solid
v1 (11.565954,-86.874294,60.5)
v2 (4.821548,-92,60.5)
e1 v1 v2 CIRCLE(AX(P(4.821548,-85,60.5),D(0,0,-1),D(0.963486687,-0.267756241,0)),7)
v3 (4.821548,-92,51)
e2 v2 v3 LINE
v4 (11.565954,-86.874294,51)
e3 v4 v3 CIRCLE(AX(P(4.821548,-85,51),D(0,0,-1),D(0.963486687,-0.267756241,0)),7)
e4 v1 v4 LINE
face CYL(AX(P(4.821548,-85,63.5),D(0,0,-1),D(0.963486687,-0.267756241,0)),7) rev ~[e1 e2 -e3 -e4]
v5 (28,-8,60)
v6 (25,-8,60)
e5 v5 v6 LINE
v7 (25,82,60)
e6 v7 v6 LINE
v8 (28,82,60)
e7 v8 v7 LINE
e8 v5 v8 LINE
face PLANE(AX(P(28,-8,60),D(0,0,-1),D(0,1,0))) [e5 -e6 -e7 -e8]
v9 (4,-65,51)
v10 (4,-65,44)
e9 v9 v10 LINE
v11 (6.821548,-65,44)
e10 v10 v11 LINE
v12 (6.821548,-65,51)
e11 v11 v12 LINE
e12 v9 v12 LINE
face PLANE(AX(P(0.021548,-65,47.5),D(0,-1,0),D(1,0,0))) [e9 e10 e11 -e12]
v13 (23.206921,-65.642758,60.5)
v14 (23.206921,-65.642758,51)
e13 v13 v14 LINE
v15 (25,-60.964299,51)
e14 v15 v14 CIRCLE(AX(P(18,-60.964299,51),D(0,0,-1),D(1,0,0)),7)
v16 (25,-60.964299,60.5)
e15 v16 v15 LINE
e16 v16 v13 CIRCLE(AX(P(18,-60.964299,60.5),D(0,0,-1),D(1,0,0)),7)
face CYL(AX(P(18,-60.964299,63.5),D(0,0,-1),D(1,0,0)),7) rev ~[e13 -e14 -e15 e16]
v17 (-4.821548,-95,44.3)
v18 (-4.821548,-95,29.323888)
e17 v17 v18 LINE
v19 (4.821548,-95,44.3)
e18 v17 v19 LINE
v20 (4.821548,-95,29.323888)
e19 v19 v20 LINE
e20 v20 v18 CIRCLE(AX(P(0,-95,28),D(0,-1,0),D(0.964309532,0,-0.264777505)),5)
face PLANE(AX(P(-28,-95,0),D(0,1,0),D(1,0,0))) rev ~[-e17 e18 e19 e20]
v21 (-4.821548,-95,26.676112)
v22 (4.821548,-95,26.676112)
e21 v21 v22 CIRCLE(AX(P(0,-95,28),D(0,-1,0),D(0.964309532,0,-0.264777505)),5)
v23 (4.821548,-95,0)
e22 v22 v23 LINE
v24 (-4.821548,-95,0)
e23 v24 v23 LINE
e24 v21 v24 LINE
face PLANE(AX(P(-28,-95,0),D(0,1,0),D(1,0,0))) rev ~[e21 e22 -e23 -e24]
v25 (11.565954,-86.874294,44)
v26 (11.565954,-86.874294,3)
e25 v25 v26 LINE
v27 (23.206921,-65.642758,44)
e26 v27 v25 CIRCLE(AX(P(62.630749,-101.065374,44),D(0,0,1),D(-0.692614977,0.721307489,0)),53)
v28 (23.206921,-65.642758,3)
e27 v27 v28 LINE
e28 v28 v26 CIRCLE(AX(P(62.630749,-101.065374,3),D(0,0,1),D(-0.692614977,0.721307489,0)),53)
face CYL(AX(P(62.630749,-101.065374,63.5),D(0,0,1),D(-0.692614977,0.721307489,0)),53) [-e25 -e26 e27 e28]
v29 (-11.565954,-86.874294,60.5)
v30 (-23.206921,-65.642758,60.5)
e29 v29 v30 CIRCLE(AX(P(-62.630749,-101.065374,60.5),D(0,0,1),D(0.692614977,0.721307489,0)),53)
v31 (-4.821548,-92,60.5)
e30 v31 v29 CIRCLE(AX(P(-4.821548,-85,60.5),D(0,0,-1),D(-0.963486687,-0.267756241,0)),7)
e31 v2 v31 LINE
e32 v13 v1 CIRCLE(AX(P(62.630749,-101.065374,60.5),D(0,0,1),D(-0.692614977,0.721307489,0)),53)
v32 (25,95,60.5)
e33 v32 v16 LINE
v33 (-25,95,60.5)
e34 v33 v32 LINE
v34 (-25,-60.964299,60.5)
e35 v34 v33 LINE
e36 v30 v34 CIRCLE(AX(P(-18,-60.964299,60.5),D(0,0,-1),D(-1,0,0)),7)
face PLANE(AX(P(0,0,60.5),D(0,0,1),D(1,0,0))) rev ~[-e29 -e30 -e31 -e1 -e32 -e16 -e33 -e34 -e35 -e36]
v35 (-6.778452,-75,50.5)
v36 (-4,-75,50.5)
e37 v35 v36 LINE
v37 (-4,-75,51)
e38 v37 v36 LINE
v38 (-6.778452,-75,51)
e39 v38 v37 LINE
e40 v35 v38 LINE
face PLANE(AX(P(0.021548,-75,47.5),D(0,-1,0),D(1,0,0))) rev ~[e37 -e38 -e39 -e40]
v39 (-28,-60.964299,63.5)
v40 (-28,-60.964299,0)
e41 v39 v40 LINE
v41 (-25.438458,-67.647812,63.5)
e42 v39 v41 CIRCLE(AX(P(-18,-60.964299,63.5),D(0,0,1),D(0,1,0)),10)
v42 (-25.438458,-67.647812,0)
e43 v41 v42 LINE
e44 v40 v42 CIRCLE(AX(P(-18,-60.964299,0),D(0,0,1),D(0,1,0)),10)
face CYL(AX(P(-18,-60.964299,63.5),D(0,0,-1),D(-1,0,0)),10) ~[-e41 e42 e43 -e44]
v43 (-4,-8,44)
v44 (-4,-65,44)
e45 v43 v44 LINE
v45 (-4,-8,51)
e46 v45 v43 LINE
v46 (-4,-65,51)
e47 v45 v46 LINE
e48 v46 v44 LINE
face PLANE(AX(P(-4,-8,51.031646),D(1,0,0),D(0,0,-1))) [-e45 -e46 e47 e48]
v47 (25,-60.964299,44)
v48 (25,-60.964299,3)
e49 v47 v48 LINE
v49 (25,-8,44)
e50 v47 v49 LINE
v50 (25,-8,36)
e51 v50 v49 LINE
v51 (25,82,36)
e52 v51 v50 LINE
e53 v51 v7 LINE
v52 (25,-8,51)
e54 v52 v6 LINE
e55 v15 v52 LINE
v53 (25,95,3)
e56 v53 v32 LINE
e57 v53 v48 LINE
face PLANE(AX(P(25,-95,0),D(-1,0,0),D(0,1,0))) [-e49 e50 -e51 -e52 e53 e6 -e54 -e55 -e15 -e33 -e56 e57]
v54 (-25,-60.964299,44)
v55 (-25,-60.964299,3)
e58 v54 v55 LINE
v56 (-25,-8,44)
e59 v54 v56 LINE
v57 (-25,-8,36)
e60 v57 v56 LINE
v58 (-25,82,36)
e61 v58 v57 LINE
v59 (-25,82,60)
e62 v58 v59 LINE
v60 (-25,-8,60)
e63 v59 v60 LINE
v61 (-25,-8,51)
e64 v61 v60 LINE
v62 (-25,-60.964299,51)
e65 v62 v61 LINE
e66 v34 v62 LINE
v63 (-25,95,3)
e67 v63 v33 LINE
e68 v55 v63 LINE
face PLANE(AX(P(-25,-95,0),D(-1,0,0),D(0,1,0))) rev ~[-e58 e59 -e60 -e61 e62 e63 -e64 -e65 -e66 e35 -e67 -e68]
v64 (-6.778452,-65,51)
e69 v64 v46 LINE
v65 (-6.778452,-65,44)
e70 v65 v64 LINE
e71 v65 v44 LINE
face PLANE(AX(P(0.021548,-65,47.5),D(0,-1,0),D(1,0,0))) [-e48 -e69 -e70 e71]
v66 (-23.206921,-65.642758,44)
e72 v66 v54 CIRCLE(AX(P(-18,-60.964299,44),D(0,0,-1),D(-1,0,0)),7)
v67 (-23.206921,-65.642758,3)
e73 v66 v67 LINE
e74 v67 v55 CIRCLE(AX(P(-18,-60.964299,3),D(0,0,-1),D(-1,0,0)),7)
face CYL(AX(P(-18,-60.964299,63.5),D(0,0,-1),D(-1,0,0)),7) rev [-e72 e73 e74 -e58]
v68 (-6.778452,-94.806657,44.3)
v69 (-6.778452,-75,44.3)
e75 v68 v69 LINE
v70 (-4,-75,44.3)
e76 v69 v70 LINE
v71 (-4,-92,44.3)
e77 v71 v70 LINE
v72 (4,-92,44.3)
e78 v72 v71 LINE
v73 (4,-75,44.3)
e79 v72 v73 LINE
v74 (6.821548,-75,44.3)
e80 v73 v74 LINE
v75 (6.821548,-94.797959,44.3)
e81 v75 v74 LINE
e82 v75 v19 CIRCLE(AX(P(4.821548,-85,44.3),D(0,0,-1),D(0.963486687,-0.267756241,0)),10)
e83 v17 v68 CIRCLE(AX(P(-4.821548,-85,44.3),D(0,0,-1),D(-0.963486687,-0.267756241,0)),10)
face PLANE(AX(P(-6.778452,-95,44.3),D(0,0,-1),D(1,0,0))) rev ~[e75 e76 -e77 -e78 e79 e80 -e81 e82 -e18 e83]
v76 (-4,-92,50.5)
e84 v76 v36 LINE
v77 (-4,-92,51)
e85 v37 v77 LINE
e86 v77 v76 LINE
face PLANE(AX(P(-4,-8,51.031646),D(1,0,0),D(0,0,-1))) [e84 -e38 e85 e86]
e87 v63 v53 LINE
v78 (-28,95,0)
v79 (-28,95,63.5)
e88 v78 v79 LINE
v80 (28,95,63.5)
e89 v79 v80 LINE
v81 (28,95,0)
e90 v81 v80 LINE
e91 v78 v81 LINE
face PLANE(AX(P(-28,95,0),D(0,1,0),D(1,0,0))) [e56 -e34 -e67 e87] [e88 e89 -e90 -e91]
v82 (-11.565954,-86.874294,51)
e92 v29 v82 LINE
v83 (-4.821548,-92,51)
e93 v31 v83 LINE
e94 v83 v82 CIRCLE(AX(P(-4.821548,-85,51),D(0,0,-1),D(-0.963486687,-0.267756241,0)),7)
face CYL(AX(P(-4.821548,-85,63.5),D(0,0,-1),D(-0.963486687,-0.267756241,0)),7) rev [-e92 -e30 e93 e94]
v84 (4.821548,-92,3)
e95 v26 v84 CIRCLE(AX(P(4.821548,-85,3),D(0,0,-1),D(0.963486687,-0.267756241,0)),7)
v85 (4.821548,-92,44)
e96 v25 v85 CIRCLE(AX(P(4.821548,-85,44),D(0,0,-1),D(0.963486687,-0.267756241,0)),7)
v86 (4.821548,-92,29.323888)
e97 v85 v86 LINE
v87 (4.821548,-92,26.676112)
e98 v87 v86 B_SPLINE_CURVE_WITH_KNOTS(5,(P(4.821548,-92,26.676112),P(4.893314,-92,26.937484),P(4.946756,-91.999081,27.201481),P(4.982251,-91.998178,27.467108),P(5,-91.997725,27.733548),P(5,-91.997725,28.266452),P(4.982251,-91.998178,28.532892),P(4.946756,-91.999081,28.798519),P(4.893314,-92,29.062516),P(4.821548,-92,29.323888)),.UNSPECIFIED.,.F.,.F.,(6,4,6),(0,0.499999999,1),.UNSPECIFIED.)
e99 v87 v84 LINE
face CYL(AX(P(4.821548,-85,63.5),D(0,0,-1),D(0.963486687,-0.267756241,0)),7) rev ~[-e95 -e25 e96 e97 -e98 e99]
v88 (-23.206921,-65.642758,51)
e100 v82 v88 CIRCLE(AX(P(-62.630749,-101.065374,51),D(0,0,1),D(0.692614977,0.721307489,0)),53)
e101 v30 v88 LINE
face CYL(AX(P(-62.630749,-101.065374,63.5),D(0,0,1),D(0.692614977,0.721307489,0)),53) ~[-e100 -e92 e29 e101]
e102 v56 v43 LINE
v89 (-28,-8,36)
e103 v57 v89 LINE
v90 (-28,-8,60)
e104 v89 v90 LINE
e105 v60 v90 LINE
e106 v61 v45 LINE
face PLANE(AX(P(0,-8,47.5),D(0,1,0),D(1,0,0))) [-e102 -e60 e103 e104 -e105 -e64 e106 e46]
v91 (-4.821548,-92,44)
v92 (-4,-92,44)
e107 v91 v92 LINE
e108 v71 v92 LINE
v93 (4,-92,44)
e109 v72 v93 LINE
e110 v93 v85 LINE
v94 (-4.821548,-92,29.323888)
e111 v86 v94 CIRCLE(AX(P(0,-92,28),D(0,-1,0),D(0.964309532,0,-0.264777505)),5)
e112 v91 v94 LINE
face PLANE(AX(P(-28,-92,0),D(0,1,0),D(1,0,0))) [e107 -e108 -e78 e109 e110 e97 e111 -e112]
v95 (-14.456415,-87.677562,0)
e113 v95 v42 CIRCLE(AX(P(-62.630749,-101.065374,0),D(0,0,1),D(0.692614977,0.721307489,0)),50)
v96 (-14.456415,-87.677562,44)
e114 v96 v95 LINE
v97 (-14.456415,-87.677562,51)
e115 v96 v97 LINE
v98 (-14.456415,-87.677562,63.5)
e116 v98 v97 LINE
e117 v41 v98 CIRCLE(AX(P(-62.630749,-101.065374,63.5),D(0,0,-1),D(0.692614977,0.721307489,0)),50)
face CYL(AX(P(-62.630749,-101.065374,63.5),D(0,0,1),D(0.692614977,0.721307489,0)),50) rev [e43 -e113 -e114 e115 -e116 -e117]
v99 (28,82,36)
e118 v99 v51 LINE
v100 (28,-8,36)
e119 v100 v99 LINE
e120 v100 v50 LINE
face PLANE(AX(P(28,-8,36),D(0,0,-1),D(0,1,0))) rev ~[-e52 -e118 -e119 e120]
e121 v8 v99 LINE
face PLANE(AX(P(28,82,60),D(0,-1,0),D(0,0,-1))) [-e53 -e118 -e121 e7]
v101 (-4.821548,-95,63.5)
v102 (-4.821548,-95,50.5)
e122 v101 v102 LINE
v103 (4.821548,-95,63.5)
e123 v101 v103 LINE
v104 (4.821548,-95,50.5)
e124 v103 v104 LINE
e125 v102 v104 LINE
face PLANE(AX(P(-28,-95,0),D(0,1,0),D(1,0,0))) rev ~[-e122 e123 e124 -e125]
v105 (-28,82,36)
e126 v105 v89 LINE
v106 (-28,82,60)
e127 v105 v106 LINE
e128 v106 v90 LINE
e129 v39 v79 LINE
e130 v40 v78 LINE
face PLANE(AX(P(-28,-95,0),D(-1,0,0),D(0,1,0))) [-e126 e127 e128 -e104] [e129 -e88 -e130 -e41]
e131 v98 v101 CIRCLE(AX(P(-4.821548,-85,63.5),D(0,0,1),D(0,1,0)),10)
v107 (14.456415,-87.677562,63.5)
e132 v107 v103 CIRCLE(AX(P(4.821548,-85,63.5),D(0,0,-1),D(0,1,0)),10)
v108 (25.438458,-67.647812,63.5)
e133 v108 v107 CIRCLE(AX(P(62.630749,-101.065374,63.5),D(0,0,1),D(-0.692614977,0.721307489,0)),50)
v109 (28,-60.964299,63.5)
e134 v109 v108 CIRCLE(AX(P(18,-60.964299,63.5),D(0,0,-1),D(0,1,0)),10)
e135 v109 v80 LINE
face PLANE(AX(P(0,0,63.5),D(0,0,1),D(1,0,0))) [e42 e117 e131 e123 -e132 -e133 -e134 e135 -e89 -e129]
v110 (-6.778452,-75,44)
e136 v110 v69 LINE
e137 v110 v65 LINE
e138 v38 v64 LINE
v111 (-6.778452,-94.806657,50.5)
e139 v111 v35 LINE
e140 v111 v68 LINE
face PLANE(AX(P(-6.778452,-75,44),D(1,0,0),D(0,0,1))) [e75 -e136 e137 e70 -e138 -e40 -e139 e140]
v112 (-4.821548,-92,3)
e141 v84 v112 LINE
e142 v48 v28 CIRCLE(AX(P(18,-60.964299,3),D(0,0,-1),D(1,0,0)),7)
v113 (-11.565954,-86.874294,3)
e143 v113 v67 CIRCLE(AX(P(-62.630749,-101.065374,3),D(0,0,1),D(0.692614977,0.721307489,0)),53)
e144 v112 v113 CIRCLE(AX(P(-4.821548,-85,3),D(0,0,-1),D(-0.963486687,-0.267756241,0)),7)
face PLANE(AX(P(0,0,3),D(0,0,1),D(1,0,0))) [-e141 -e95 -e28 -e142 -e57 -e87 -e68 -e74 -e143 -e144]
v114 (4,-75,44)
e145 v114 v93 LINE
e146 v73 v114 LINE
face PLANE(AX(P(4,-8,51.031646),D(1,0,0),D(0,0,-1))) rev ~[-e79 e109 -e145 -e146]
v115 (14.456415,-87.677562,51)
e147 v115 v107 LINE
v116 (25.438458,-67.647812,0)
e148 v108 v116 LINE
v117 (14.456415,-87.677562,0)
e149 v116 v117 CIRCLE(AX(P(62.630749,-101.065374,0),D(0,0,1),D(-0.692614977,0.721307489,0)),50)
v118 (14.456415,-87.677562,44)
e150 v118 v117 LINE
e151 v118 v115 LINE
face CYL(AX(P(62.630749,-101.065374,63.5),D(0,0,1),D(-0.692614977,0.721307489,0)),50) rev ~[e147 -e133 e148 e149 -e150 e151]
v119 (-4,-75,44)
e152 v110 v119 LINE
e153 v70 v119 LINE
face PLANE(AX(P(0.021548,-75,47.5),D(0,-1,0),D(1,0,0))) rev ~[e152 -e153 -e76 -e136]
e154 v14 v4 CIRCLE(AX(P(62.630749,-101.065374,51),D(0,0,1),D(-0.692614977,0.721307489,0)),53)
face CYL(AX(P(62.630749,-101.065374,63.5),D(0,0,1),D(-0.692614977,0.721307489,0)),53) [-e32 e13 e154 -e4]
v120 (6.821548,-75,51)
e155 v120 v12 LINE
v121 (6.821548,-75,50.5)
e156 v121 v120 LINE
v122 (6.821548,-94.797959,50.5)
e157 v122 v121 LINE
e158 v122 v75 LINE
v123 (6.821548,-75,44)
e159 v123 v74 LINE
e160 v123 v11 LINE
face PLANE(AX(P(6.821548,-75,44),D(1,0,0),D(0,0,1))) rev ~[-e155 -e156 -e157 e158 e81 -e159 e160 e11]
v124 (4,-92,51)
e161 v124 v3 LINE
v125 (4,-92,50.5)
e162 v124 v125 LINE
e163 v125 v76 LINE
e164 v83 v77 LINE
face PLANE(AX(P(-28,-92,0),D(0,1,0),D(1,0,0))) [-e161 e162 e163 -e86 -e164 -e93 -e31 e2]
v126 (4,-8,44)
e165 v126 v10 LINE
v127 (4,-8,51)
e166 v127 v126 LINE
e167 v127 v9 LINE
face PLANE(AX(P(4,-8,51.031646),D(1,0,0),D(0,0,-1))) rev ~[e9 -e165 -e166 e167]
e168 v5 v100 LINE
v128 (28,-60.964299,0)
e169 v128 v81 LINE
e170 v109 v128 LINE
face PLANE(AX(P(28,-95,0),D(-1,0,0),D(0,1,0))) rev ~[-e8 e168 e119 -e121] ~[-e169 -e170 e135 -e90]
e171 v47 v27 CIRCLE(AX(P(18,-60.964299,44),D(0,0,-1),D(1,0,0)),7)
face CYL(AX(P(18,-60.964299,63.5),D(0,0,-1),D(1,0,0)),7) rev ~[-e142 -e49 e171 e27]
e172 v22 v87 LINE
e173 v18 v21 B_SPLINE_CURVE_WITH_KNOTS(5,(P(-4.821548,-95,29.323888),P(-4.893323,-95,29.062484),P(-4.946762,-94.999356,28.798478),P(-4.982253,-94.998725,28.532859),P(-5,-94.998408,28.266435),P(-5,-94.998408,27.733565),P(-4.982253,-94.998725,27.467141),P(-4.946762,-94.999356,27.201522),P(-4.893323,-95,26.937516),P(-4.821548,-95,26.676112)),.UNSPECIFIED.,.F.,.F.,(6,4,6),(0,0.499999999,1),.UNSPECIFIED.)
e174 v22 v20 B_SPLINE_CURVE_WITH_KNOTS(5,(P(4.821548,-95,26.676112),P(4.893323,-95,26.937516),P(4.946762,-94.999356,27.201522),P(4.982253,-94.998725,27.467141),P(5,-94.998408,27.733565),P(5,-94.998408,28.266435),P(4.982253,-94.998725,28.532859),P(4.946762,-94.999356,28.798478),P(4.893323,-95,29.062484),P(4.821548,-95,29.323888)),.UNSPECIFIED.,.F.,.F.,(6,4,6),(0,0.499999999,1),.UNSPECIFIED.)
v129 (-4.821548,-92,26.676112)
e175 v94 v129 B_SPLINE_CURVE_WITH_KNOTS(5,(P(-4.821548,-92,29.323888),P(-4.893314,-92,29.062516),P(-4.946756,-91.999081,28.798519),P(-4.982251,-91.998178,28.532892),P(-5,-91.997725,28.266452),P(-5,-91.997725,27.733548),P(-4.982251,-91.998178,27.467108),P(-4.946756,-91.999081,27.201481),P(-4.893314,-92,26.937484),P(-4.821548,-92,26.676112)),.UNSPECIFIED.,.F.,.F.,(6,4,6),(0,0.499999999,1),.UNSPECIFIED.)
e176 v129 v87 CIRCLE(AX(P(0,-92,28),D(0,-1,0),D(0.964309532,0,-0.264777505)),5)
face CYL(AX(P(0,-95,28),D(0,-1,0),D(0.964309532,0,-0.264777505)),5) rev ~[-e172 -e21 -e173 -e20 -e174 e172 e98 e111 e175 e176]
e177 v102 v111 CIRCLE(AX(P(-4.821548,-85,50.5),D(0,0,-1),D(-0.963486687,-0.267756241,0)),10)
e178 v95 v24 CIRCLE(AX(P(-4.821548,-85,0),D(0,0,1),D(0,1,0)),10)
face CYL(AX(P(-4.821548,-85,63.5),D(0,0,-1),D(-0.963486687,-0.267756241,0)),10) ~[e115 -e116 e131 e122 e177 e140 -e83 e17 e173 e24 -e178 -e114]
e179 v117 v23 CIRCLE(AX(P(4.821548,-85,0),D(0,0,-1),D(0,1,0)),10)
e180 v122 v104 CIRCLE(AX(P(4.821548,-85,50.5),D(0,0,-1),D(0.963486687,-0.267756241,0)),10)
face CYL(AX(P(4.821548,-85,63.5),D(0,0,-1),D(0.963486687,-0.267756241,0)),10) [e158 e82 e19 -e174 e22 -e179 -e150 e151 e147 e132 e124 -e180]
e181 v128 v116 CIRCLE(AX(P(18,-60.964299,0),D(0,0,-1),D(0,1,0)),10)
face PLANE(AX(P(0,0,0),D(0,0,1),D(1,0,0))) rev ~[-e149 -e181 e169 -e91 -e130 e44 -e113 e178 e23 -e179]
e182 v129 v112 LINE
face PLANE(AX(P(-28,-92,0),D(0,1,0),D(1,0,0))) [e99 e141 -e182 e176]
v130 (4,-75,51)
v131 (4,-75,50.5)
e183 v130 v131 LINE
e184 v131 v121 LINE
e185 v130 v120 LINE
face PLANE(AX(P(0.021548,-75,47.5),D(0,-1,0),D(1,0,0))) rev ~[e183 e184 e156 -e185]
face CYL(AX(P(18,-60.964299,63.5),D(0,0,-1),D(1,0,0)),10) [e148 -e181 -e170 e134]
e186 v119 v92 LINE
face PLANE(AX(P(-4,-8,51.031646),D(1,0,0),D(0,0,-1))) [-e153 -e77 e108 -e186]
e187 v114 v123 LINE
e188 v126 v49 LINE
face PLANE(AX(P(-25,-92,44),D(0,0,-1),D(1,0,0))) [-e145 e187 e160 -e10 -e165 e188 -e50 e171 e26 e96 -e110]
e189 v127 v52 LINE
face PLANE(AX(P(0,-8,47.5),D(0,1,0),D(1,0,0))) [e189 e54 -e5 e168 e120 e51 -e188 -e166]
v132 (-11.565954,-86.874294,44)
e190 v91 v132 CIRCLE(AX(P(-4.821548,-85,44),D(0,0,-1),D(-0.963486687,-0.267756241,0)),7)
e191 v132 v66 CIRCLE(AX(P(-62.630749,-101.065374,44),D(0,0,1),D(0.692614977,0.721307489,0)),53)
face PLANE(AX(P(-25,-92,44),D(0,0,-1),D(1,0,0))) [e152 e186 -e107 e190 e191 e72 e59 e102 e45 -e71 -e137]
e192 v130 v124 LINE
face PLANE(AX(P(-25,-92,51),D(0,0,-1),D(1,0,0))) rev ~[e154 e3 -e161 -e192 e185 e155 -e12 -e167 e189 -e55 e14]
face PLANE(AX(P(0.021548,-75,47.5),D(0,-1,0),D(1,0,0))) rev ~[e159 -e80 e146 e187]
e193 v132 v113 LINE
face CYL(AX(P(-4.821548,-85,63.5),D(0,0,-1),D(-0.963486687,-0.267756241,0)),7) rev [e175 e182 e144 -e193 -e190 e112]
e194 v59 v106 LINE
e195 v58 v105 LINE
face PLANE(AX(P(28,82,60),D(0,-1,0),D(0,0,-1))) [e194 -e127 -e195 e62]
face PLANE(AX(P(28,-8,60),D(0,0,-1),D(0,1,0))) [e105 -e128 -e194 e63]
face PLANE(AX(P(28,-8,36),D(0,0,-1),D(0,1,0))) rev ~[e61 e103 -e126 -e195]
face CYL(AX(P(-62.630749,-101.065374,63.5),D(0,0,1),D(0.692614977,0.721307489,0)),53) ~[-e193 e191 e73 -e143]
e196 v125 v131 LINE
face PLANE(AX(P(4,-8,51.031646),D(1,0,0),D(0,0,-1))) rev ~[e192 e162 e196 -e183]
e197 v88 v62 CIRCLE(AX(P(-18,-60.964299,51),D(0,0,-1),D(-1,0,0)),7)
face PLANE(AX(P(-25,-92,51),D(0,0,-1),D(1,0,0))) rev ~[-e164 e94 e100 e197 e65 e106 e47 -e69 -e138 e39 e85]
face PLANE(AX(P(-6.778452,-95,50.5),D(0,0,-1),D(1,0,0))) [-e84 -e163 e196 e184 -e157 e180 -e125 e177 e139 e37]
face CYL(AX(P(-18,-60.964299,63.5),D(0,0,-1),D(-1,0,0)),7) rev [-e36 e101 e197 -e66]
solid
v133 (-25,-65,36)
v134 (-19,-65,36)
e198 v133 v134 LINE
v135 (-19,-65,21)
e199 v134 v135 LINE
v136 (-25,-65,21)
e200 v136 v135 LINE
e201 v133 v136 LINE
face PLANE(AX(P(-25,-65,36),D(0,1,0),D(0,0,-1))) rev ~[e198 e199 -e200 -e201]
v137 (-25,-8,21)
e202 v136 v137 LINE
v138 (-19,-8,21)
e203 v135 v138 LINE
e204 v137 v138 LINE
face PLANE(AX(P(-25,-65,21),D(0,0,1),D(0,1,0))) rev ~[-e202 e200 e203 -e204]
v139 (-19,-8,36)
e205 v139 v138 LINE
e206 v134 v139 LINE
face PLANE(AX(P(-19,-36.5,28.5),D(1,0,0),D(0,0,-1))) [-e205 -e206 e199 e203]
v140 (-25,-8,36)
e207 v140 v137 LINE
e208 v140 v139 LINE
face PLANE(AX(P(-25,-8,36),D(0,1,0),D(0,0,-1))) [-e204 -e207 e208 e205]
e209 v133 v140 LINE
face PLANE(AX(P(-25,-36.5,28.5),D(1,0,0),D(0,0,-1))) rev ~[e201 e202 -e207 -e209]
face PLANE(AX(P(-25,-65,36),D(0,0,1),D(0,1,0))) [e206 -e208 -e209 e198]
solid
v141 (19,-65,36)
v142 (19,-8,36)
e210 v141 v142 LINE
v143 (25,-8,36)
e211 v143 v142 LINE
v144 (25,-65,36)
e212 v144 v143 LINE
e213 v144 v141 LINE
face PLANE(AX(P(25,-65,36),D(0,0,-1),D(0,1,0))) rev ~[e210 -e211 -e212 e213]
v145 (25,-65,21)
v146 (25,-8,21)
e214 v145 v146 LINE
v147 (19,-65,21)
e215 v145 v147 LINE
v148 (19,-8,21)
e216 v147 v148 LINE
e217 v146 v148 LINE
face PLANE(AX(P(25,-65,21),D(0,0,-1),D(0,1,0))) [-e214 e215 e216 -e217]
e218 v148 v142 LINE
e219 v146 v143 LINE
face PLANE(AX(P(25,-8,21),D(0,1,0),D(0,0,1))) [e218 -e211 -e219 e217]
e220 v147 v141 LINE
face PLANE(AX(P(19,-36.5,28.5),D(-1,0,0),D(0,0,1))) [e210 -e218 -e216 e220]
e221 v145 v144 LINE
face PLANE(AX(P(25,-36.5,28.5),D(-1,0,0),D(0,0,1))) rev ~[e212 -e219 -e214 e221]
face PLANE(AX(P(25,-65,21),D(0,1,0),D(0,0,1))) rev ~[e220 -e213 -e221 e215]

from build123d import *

# Parameters (mm, degrees)
CROQUIS2_W              = 56
CROQUIS2_H              = 190
SALIENTE_EXTRUIR1_DEPTH = 63.5
CORTAR_EXTRUIR6_DEPTH   = 65
REDONDEO1_R             = 10
VACIADO2_T              = -3
CROQUIS10_W             = 24
CROQUIS10_H             = 90
CORTAR_EXTRUIR1_DEPTH   = 129
CROQUIS12_W             = 50
CROQUIS12_H             = 7
SALIENTE_EXTRUIR2_DEPTH = 84
CROQUIS13_W             = 8
CROQUIS13_H             = 7.031646252
CORTAR_EXTRUIR2_DEPTH   = 84
CROQUIS14_R             = 5
CORTAR_EXTRUIR3_DEPTH   = 84
CORTAR_EXTRUIR5_DEPTH   = 10
CROQUIS18_W             = 15
CROQUIS18_H             = 57
SALIENTE_EXTRUIR4_DEPTH = 6
CROQUIS19_W             = 15
CROQUIS19_H             = 57
SALIENTE_EXTRUIR5_DEPTH = 6
CROQUIS22_R             = 5
CROQUIS22_W             = 13.6
CROQUIS22_H             = 6.2
CORTAR_EXTRUIR7_DEPTH   = 20
CROQUIS23_W             = 13.6
CROQUIS23_H             = 7
CORTAR_EXTRUIR8_DEPTH   = 10


with BuildPart() as part:
    # Croquis2 → Saliente-Extruir1 (new body)
    with BuildSketch(Plane.XY):
        Rectangle(CROQUIS2_W, CROQUIS2_H)
    extrude(amount=SALIENTE_EXTRUIR1_DEPTH)

    # Croquis20 → Cortar-Extruir6 (cut)
    with BuildSketch(Plane.XY.offset(63.5)):
        with BuildLine():
            Line((-13, -95), (-28, -95))
            Line((-28, -95), (-28, -65))
            ThreePointArc((-28, -65), (-17.909389316, -78.704694658), (-13, -95))
        make_face()
        with BuildLine():
            Line((13, -95), (28, -95))
            Line((28, -95), (28, -65))
            ThreePointArc((28, -65), (17.909389316, -78.704694658), (13, -95))
        make_face()
    extrude(amount=-CORTAR_EXTRUIR6_DEPTH, mode=Mode.SUBTRACT)

    # Redondeo1
    redondeo1_edges = [part.edges().sort_by_distance(p)[0] for p in [
        (13, -95, 31.75),
        (28, -65, 31.75),
        (-28, -65, 31.75),
        (-13, -95, 31.75),
    ]]
    fillet(redondeo1_edges, radius=REDONDEO1_R)

    # Vaciado2
    vaciado2_openings = [part.faces().sort_by_distance(p)[0] for p in [
        (0, 95, 31.75),
    ]]
    offset(amount=VACIADO2_T, openings=vaciado2_openings, kind=Kind.INTERSECTION)

    # Croquis10 → Cortar-Extruir1 (cut)
    with BuildSketch(Plane(origin=(28, 0, 0), x_dir=(0, 0, -1), z_dir=(1, 0, 0))):
        with Locations((-48, 37)):
            Rectangle(CROQUIS10_W, CROQUIS10_H)
    extrude(amount=-CORTAR_EXTRUIR1_DEPTH, mode=Mode.SUBTRACT)

    # Croquis12 → Saliente-Extruir2 (add)
    with BuildSketch(Plane(origin=(0, -92, 0), x_dir=(1, 0, 0), z_dir=(0, 1, 0))):
        with Locations((0, -47.5)):
            Rectangle(CROQUIS12_W, CROQUIS12_H)
    extrude(amount=SALIENTE_EXTRUIR2_DEPTH)

    # Croquis13 → Cortar-Extruir2 (cut)
    with BuildSketch(Plane(origin=(0, -8, 0), x_dir=(1, 0, 0), z_dir=(0, 1, 0))):
        with Locations((0, -47.515823126)):
            Rectangle(CROQUIS13_W, CROQUIS13_H)
    extrude(amount=-CORTAR_EXTRUIR2_DEPTH, mode=Mode.SUBTRACT)

    # Croquis14 → Cortar-Extruir3 (cut)
    with BuildSketch(Plane.XZ.offset(95)):
        with Locations(Location((0, 28, 0), (0, 0, 344.646267442))):
            Circle(CROQUIS14_R)
    extrude(amount=-CORTAR_EXTRUIR3_DEPTH, mode=Mode.SUBTRACT)

    # Croquis17 → Cortar-Extruir5 (cut)
    with BuildSketch(Plane(origin=(0, 0, 44), x_dir=(-1, 0, 0), z_dir=(0, 0, -1))):
        with BuildLine():
            Line((11.962976086, -92), (25, -92))
            Line((25, -92), (25, -68.142331746))
            ThreePointArc((25, -68.142331746), (18.630358126, -77.31741421), (14.456414526, -87.677562405))
            ThreePointArc((14.456414526, -87.677562405), (13.483642535, -89.996810217), (11.962976086, -92))
        make_face()
        with BuildLine():
            Line((-25, -68.142331746), (-25, -92))
            Line((-25, -92), (-11.962976086, -92))
            ThreePointArc((-11.962976086, -92), (-13.483642535, -89.996810217), (-14.456414526, -87.677562405))
            ThreePointArc((-14.456414526, -87.677562405), (-18.630358126, -77.31741421), (-25, -68.142331746))
        make_face()
    extrude(amount=-CORTAR_EXTRUIR5_DEPTH, mode=Mode.SUBTRACT)

    # Croquis22 → Cortar-Extruir7 (cut)
    with BuildSketch(Plane.XZ.offset(95)):
        with Locations(Location((0, 28, 0), (0, 0, 344.646267442))):
            Circle(CROQUIS22_R)
        with Locations((0.021547658, 47.4)):
            Rectangle(CROQUIS22_W, CROQUIS22_H)
    extrude(amount=-CORTAR_EXTRUIR7_DEPTH, mode=Mode.SUBTRACT)

    # Croquis23 → Cortar-Extruir8 (cut)
    with BuildSketch(Plane.XZ.offset(75)):
        with Locations((0.021547658, 47.5)):
            Rectangle(CROQUIS23_W, CROQUIS23_H)
    extrude(amount=-CORTAR_EXTRUIR8_DEPTH, mode=Mode.SUBTRACT)


with BuildPart() as body_2:
    # Croquis18 → Saliente-Extruir4 (new body)
    with BuildSketch(Plane(origin=(-25, 0, 0), x_dir=(0, 0, -1), z_dir=(1, 0, 0))):
        with Locations((-28.5, -36.5)):
            Rectangle(CROQUIS18_W, CROQUIS18_H)
    extrude(amount=SALIENTE_EXTRUIR4_DEPTH)


with BuildPart() as body_3:
    # Croquis19 → Saliente-Extruir5 (new body)
    with BuildSketch(Plane.ZY.offset(-25)):
        with Locations((28.5, -36.5)):
            Rectangle(CROQUIS19_W, CROQUIS19_H)
    extrude(amount=SALIENTE_EXTRUIR5_DEPTH)


solid = Compound([part.part, body_2.part, body_3.part])
